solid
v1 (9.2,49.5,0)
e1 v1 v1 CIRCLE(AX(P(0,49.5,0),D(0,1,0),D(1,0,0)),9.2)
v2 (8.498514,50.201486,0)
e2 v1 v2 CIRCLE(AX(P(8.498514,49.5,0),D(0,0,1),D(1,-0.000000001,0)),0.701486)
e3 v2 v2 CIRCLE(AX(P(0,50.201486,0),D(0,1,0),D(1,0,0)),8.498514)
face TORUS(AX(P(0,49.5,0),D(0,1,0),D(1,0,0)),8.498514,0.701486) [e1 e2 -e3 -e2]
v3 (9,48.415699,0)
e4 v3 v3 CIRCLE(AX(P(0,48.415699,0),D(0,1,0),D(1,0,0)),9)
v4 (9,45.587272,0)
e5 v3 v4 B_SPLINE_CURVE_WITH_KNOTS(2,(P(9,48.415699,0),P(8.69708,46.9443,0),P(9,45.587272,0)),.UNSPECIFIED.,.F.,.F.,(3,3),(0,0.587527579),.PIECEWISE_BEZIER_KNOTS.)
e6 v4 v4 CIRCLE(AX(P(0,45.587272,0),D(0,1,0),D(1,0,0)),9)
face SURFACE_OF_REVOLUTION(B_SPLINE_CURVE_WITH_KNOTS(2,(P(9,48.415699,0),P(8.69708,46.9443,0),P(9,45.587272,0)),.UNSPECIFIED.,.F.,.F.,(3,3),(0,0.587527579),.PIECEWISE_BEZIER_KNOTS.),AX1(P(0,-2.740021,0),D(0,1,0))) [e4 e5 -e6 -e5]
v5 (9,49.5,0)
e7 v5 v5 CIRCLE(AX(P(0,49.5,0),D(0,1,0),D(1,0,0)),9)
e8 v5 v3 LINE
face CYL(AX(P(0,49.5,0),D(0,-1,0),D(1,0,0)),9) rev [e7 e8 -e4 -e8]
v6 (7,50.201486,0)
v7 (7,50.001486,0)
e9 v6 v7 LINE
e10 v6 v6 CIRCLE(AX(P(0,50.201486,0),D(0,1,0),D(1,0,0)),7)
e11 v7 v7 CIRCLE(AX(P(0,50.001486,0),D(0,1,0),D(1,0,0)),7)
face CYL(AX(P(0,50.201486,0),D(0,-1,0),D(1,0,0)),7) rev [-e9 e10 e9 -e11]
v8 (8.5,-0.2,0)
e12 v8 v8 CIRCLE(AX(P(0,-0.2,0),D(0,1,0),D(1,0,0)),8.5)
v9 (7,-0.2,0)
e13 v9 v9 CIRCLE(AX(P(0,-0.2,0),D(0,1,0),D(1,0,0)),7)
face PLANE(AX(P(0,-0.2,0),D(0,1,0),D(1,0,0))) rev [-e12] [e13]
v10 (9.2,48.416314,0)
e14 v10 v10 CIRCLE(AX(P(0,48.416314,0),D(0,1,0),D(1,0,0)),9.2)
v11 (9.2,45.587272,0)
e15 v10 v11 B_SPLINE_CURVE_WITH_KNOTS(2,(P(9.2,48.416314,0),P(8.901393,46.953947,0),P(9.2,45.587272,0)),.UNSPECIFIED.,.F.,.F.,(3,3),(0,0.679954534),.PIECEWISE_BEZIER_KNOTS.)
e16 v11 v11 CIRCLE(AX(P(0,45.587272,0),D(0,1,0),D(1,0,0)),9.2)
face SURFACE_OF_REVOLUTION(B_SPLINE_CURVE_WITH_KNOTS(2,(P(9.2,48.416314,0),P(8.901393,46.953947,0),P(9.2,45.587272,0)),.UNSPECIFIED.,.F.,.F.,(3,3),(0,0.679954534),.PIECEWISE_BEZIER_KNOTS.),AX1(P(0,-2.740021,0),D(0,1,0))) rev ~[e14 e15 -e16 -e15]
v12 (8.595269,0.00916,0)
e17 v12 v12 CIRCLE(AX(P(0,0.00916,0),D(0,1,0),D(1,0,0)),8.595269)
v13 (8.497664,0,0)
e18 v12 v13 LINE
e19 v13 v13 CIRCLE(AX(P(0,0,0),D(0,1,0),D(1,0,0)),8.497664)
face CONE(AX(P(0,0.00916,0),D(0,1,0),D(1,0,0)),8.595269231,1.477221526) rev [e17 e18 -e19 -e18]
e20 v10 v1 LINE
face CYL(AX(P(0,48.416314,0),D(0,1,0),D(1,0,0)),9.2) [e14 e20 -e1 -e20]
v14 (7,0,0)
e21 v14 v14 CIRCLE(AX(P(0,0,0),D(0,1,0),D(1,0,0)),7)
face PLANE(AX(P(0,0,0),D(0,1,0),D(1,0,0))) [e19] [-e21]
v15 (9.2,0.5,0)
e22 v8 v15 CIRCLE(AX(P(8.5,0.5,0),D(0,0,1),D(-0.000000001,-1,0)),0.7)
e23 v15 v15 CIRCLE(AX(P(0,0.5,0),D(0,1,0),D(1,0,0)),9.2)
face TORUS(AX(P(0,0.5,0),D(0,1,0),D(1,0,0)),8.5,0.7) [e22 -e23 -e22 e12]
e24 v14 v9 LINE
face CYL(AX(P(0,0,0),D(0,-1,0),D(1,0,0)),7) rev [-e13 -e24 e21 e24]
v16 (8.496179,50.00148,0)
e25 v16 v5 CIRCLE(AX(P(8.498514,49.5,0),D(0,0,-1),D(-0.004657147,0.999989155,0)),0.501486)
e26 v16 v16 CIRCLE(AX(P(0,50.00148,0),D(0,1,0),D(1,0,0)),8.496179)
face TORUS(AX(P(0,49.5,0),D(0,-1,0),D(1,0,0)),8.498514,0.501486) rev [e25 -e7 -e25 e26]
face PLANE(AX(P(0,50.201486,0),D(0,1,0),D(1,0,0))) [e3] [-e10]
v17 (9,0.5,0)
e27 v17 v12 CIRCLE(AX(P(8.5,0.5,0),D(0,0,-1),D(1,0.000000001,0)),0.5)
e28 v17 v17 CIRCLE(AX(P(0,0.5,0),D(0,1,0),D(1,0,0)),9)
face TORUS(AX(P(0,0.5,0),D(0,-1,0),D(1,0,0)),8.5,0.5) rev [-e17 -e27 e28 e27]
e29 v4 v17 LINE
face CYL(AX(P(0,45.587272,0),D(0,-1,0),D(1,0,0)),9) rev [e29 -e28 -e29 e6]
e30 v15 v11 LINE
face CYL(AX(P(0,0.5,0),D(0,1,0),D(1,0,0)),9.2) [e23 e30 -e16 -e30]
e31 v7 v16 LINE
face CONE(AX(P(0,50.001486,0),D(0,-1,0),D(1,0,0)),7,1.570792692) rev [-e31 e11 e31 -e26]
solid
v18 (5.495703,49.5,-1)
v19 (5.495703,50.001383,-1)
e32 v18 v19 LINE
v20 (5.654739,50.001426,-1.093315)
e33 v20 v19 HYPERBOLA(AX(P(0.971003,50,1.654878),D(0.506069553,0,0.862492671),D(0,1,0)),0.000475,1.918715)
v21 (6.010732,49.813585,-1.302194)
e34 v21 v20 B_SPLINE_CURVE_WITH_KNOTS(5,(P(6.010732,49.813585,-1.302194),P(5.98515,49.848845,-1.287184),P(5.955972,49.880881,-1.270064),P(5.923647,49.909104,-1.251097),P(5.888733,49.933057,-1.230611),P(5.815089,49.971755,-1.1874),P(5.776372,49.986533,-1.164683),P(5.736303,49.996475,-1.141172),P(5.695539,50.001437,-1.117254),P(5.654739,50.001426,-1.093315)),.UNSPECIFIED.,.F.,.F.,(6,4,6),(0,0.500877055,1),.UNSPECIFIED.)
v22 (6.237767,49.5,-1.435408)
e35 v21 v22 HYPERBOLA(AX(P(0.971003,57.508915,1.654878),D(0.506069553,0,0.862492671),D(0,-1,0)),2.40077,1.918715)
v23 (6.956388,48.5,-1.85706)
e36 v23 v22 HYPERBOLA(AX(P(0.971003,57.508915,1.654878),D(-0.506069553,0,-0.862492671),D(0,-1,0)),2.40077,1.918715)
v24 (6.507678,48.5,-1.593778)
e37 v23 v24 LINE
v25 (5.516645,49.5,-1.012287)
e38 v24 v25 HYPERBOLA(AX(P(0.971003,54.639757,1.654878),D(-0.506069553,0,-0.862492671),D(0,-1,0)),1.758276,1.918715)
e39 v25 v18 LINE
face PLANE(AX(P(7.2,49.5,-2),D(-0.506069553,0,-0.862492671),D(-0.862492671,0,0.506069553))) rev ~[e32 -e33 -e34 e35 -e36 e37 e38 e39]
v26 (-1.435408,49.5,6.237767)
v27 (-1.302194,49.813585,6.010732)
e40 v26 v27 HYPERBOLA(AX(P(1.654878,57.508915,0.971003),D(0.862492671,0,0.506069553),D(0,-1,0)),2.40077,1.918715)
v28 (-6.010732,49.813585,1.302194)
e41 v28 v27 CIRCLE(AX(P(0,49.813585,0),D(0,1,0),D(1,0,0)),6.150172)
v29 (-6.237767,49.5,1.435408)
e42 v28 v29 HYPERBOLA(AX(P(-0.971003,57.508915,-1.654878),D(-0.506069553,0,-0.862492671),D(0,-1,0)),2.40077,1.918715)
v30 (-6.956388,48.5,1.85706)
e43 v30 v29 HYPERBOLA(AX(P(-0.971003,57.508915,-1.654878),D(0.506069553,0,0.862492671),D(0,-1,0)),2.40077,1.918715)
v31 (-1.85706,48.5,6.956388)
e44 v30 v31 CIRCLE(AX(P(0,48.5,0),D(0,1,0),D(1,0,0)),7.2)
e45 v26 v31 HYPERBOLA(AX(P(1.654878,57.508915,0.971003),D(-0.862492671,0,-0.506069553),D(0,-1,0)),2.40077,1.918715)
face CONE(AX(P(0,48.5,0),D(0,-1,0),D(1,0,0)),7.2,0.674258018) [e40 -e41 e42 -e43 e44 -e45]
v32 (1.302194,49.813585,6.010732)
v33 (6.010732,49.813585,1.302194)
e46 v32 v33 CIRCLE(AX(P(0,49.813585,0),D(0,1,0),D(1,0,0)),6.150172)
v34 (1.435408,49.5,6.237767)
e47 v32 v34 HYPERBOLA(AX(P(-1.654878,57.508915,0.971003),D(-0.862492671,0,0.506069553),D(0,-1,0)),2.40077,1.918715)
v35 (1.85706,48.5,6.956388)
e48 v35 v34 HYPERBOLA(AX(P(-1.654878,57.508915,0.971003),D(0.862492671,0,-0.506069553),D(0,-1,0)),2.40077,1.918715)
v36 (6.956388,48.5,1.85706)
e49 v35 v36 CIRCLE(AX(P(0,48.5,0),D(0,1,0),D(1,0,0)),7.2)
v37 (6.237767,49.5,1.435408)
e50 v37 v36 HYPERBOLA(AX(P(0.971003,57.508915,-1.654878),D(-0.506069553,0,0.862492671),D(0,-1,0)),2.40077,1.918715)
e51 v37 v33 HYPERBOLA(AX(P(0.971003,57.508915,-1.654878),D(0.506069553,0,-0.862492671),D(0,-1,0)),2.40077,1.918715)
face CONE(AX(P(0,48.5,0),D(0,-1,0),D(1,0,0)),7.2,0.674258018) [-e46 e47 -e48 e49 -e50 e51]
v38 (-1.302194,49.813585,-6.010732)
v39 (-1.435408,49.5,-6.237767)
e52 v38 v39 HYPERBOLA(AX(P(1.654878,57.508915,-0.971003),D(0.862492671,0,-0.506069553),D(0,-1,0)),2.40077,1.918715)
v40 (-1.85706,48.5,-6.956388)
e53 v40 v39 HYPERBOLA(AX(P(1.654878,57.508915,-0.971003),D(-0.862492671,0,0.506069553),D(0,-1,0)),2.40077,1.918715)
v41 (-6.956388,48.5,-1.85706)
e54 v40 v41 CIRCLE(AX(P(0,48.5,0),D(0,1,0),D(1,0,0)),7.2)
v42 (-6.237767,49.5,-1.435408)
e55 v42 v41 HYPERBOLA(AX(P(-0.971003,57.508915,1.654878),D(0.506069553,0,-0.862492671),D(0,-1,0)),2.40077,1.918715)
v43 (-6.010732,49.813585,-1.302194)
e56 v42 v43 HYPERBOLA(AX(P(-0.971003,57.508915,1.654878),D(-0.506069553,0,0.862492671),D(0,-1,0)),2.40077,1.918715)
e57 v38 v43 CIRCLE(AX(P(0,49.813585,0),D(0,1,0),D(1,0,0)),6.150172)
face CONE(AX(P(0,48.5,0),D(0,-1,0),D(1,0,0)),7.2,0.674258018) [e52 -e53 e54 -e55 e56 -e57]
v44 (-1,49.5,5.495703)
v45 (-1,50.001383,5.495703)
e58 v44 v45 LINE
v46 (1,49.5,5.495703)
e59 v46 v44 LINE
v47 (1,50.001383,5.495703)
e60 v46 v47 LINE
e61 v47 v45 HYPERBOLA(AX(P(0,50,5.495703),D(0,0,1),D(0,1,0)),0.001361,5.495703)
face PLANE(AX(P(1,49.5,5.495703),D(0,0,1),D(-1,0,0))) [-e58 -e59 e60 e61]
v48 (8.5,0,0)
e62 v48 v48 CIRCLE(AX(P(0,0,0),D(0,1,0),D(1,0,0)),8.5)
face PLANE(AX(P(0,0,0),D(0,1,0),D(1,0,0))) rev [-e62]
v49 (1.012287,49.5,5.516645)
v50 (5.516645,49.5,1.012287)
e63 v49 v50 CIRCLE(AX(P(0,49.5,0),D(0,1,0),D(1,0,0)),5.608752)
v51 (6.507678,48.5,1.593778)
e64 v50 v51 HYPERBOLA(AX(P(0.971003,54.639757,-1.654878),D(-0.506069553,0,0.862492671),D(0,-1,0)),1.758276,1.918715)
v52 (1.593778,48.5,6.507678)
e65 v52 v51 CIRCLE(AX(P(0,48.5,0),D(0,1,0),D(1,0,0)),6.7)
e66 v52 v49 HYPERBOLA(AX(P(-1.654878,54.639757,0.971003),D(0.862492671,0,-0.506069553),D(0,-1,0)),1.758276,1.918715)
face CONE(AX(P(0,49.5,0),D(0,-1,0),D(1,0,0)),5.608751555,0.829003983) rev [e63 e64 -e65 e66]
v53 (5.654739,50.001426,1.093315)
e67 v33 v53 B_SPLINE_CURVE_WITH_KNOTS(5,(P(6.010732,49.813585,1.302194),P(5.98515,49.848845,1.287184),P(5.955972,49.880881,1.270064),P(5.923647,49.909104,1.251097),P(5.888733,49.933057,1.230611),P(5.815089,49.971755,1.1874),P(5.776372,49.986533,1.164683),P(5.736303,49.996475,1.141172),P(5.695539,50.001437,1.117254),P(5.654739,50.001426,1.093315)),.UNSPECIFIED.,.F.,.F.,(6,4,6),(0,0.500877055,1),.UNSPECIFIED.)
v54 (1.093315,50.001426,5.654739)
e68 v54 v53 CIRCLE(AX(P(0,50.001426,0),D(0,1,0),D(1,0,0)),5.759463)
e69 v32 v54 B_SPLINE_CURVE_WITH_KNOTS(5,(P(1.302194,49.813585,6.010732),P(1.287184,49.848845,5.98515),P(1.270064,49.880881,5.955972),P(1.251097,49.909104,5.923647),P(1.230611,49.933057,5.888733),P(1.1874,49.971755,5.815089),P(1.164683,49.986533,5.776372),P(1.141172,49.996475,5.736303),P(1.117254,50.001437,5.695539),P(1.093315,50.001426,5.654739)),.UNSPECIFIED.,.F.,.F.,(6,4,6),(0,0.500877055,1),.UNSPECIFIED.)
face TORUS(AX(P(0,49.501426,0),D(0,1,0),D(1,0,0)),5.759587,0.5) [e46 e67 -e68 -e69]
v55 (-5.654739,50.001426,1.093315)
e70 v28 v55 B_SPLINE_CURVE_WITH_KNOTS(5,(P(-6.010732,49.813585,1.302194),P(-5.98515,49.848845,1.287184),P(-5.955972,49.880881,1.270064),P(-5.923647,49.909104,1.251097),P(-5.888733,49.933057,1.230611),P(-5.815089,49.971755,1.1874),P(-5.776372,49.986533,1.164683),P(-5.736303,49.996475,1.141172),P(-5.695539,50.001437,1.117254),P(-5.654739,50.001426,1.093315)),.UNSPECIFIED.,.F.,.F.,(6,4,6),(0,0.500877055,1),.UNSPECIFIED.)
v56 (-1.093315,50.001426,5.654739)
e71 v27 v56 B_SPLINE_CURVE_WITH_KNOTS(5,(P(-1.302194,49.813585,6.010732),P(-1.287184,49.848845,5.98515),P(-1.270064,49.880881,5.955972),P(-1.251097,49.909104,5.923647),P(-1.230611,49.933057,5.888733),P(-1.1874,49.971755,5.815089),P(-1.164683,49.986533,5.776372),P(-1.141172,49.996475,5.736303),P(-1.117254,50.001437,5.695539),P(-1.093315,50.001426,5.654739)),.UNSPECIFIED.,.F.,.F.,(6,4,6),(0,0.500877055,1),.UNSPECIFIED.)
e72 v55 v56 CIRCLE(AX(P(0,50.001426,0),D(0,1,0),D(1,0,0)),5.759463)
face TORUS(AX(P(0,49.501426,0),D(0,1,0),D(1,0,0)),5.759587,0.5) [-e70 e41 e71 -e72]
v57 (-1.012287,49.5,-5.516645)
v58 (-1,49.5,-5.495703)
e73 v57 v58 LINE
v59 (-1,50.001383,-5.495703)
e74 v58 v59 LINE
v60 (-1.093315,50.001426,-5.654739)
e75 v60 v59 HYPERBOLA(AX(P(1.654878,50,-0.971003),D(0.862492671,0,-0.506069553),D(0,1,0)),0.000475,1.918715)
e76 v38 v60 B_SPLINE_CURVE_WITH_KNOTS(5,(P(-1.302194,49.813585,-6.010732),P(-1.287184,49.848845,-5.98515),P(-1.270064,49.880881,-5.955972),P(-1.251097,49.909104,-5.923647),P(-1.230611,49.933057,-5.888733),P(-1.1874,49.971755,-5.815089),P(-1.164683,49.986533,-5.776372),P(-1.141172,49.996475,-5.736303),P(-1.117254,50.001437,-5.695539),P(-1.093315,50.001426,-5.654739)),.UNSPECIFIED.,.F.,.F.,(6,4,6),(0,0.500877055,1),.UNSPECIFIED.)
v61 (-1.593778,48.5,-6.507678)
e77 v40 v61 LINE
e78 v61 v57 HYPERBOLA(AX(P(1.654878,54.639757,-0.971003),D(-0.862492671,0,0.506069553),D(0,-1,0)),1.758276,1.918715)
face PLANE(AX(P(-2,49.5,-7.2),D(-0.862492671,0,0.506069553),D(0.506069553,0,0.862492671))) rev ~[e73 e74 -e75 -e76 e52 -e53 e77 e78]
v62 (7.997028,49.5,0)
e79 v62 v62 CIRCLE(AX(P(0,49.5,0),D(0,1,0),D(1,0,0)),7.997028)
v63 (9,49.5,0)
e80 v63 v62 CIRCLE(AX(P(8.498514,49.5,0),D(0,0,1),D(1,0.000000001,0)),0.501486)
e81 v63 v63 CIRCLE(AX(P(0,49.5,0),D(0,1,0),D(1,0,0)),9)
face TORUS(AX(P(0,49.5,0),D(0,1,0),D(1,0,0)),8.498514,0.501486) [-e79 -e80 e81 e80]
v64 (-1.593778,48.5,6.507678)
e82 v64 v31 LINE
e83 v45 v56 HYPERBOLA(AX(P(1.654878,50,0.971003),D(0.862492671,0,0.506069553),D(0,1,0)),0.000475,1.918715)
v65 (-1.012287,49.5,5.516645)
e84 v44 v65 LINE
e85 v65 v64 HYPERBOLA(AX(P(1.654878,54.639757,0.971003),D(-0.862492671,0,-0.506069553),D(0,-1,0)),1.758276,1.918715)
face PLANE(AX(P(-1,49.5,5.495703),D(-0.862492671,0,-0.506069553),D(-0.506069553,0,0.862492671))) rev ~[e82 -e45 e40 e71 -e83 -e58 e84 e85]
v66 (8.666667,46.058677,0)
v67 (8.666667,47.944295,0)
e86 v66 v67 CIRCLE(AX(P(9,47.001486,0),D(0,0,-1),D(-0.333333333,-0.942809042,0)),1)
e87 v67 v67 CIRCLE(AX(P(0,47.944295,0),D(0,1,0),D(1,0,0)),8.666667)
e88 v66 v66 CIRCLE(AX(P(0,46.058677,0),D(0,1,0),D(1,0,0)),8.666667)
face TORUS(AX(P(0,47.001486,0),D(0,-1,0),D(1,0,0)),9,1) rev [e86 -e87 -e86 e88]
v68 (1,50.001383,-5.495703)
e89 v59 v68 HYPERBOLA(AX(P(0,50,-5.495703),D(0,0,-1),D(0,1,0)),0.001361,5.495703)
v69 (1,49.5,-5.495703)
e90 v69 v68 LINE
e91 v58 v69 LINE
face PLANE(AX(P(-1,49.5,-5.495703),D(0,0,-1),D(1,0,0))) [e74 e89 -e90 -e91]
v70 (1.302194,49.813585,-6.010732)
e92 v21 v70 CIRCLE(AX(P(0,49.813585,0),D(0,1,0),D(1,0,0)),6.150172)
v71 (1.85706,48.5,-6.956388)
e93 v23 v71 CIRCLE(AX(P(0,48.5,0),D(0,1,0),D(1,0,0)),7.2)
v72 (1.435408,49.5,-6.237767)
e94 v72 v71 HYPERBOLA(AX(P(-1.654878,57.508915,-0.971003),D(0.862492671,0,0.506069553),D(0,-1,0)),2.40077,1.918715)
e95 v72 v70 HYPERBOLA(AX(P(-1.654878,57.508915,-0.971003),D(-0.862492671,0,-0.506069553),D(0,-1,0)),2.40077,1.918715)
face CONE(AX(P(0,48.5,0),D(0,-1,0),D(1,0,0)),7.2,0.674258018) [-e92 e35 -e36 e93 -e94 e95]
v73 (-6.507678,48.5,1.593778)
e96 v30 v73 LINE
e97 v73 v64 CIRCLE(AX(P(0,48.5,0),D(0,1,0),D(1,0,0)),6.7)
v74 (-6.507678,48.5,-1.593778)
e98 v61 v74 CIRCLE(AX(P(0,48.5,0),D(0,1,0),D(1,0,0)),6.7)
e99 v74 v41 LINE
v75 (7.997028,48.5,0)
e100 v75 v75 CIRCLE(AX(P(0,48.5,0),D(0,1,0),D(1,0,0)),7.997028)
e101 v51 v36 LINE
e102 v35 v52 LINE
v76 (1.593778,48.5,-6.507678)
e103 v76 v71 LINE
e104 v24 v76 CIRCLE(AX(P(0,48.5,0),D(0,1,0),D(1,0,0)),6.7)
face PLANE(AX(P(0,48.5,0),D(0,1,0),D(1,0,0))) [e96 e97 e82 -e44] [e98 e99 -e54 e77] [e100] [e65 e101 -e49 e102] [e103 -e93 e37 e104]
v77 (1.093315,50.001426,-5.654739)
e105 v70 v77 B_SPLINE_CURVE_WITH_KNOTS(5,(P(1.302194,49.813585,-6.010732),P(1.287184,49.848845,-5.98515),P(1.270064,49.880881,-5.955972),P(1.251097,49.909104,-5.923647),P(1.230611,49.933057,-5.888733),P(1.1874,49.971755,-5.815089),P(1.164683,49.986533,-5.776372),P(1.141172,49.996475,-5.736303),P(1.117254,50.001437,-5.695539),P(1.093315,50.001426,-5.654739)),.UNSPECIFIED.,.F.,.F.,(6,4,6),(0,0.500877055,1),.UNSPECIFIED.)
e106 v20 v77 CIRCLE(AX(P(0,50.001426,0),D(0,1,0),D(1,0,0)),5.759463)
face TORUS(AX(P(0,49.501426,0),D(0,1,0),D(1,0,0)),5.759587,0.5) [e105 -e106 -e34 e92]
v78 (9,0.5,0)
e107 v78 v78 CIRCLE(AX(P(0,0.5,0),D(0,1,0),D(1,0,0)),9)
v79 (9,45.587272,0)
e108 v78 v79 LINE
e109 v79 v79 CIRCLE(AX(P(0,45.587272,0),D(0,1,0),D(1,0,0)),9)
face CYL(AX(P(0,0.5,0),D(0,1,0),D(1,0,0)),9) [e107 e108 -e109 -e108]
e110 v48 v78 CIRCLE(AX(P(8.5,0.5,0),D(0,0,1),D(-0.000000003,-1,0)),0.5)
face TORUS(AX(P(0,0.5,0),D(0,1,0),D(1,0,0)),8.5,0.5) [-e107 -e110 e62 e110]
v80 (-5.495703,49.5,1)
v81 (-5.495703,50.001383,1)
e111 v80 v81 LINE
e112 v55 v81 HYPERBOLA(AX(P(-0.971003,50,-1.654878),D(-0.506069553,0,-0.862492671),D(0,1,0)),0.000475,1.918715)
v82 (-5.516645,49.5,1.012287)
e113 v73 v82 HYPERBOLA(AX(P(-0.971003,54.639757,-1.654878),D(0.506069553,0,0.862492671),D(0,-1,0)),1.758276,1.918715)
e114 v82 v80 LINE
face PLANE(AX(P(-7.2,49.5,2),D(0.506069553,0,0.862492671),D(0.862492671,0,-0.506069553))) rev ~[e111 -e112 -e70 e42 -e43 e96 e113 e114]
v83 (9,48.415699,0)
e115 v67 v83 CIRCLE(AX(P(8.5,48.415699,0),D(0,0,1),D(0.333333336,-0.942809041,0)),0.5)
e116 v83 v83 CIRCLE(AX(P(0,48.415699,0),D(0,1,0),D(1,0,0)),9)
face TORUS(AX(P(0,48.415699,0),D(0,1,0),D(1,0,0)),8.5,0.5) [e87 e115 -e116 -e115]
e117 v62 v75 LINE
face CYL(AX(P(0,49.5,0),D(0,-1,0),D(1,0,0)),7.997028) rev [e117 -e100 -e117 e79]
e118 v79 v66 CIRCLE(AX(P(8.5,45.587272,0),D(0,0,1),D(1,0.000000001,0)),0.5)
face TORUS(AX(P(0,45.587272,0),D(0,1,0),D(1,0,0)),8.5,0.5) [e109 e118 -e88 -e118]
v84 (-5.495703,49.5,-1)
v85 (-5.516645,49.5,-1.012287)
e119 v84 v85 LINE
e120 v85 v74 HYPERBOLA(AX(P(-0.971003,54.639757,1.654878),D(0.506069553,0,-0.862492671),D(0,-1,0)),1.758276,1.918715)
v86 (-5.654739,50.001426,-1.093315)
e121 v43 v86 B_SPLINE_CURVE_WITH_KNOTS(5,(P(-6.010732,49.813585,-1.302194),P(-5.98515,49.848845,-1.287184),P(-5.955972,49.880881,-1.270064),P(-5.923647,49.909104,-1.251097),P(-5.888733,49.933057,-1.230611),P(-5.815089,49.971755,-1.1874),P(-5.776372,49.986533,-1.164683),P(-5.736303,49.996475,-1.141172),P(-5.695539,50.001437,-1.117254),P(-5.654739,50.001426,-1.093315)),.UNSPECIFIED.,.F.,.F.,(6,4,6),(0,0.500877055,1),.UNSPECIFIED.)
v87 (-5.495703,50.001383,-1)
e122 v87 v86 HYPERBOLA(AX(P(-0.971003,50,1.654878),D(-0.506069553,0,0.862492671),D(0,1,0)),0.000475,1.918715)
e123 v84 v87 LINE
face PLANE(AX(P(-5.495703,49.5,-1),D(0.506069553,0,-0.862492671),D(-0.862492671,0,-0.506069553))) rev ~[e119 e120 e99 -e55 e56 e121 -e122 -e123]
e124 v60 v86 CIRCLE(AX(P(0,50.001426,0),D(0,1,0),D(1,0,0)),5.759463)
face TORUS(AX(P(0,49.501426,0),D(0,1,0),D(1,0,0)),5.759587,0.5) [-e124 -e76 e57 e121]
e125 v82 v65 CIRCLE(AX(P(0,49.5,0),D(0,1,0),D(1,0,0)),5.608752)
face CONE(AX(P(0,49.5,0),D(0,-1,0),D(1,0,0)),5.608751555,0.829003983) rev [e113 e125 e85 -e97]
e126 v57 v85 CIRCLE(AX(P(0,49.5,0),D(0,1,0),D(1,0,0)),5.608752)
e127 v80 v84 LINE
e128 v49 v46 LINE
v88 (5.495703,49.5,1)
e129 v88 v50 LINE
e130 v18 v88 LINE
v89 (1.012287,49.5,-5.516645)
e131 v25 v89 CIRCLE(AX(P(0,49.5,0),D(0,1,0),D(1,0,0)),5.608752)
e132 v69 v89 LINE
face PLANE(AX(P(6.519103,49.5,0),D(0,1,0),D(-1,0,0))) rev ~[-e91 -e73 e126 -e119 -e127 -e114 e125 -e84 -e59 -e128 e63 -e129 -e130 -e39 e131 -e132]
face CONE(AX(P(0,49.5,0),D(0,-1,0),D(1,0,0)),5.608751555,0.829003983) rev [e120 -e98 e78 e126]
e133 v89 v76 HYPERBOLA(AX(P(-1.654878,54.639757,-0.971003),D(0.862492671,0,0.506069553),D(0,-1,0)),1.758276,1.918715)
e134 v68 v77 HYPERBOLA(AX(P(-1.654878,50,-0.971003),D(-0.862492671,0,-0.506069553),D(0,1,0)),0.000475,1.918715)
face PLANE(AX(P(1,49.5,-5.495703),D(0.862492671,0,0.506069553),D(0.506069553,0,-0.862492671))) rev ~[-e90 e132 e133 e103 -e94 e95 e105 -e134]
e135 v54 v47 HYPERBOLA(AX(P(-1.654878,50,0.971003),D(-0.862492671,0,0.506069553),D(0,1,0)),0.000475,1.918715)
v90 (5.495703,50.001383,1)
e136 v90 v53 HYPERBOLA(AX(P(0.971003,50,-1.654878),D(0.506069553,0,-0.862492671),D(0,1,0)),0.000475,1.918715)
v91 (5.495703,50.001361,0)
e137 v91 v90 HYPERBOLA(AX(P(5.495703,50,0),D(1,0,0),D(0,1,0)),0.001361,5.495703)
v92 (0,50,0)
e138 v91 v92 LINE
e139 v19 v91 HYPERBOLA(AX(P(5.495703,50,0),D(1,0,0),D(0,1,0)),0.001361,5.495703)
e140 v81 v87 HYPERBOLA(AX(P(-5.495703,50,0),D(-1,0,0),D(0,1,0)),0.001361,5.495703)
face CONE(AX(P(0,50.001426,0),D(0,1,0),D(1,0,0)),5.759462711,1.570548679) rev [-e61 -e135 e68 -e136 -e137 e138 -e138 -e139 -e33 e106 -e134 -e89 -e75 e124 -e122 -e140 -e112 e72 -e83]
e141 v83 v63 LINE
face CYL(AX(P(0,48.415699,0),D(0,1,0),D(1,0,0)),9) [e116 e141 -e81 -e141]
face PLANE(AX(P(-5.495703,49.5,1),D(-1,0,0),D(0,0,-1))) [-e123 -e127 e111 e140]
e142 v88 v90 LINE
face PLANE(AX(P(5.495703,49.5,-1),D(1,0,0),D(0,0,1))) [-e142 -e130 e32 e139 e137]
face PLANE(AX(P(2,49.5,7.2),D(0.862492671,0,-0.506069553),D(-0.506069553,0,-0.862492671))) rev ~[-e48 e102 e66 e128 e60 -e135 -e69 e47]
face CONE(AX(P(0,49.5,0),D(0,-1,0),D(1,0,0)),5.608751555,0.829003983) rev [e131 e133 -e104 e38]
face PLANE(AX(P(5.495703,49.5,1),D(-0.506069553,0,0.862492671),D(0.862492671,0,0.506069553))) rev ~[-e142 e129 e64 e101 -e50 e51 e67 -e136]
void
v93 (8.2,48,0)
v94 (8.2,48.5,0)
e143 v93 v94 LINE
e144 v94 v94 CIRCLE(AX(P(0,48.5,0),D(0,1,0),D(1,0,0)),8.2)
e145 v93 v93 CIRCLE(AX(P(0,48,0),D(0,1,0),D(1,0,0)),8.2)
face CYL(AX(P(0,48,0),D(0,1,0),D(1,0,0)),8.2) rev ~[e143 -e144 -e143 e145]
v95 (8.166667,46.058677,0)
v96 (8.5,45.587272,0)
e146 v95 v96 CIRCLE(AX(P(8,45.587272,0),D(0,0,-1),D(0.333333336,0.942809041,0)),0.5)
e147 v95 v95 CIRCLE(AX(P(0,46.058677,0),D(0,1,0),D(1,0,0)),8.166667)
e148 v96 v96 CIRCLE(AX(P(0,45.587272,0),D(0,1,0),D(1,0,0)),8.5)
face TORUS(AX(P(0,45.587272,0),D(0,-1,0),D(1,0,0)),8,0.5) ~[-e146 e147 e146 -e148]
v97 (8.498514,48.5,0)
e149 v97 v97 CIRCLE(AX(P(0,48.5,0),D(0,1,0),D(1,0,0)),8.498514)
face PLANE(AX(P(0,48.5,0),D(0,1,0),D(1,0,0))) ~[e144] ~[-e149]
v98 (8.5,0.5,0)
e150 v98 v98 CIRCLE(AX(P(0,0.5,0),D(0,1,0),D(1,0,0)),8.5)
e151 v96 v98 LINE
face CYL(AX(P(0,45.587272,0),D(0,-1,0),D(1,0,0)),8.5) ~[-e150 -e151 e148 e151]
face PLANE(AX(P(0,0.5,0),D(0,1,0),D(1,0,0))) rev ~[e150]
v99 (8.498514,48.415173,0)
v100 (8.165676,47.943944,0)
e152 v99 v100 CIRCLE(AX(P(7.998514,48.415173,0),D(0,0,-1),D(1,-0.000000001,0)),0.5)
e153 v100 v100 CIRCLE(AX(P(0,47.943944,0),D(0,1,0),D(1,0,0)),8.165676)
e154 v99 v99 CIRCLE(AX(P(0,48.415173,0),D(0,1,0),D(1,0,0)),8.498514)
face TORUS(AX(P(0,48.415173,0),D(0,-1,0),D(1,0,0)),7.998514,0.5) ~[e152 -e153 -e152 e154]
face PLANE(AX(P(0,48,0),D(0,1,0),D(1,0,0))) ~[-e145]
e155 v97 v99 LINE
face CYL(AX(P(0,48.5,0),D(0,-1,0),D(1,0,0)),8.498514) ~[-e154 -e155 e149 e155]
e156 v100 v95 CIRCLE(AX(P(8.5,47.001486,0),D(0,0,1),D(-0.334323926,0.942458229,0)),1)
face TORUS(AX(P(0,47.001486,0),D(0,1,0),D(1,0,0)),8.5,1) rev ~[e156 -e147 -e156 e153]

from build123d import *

# Parameters (mm, degrees)
CUT_EXTRUDE_1_DEPTH      = 1
CUT_EXTRUDE_1_DEPTH_BACK = 1.501485988


with BuildPart() as part:
    # Эскиз1 → Повернуть1 (revolve)
    with BuildSketch(Plane.XY):
        with BuildLine():
            Line((0, 0.5), (0, 0))
            Line((0, 0), (8.5, 0))
            ThreePointArc((8.5, 0), (8.853553391, 0.146446609), (9, 0.5))
            Line((9, 0.5), (9, 45.587272326))
            ThreePointArc((9, 45.587272326), (8.90824829, 45.875947461), (8.666666667, 46.058676847))
            ThreePointArc((8.666666667, 46.058676847), (8, 47.001485888), (8.666666667, 47.94429493))
            ThreePointArc((8.666666667, 47.94429493), (8.90824829, 48.127024316), (9, 48.415699451))
            Line((9, 48.415699451), (9, 49.5))
            ThreePointArc((9, 49.5), (8.498514112, 50.001485888), (7.997028223, 49.5))
            Line((7.997028223, 49.5), (7.997028223, 48.5))
            Line((7.997028223, 48.5), (7.2, 48.5))
            Line((7.2, 48.5), (6.150171734, 49.813585272))
            ThreePointArc((6.150171734, 49.813585272), (5.976233912, 49.95205247), (5.759462711, 50.00142632))
            Line((5.759462711, 50.00142632), (0, 50))
            Line((0, 50), (0, 49.5))
            Line((0, 49.5), (5.608751555, 49.5))
            Line((5.608751555, 49.5), (6.7, 48.5))
            Line((6.7, 48.5), (0, 48.5))
            Line((0, 48.5), (0, 48))
            Line((0, 48), (8.2, 48))
            Line((8.2, 48), (8.2, 48.5))
            Line((8.2, 48.5), (8.498514112, 48.5))
            Line((8.498514112, 48.5), (8.498514112, 48.415173231))
            ThreePointArc((8.498514112, 48.415173231), (8.406914027, 48.126712646), (8.165676074, 47.943944117))
            ThreePointArc((8.165676074, 47.943944117), (7.500000138, 47.00096045), (8.166666667, 46.058676847))
            ThreePointArc((8.166666667, 46.058676847), (8.40824829, 45.875947461), (8.5, 45.587272326))
            Line((8.5, 45.587272326), (8.5, 0.5))
            Line((8.5, 0.5), (0, 0.5))
        make_face()
    revolve(axis=Axis((0, 0, 0), (0, 1, 0)))

    # Эскиз2 → Вырез-Вытянуть1 (cut, two sides)
    with BuildSketch(Plane.XZ.offset(-49.5)) as cut_extrude_1_sk:
        Polygon((-1, -5.495703298), (1, -5.495703298), (2, -7.2), (-2, -7.2), align=None)
        Polygon((-5.495703298, 1), (-5.495703298, -1), (-7.2, -2), (-7.2, 2), align=None)
        Polygon((1, 5.495703298), (-1, 5.495703298), (-2, 7.2), (2, 7.2), align=None)
        Polygon((5.495703298, -1), (5.495703298, 1), (7.2, 2), (7.2, -2), align=None)
    extrude(amount=CUT_EXTRUDE_1_DEPTH, mode=Mode.SUBTRACT)
    extrude(cut_extrude_1_sk.sketch, amount=-CUT_EXTRUDE_1_DEPTH_BACK, mode=Mode.SUBTRACT)


with BuildPart() as body_2:
    # Эскиз3 → Повернуть4 (revolve)
    with BuildSketch(Plane.XY):
        with BuildLine():
            Line((8.497664073, 0), (7, 0))
            Line((7, 0), (7, -0.2))
            Line((7, -0.2), (8.5, -0.2))
            ThreePointArc((8.5, -0.2), (8.994974747, 0.005025253), (9.2, 0.5))
            Line((9.2, 0.5), (9.2, 45.587272326))
            add(Edge.make_bspline(
                [(9.2, 48.416313782), (8.901392965, 46.953947415), (9.2, 45.587272326)],
                knots=[0, 0, 0, 0.679954534, 0.679954534, 0.679954534], degree=2))
            Line((9.2, 48.416313782), (9.2, 49.5))
            ThreePointArc((9.2, 49.5), (8.99453954, 49.996025429), (8.498514112, 50.201485888))
            Line((8.498514112, 50.201485888), (7, 50.201485888))
            Line((7, 50.201485888), (7, 50.001485888))
            Line((7, 50.001485888), (8.496178619, 50.00148045))
            ThreePointArc((8.496178619, 50.00148045), (8.852291499, 49.855428835), (9, 49.5))
            Line((9, 49.5), (9, 48.415699451))
            add(Edge.make_bspline(
                [(9, 48.415699451), (8.697080045, 46.944299731), (9, 45.587272326)],
                knots=[0, 0, 0, 0.587527579, 0.587527579, 0.587527579], degree=2))
            Line((9, 45.587272326), (9, 0.5))
            ThreePointArc((9, 0.5), (8.885768464, 0.18190773), (8.595269231, 0.009160135))
            Line((8.595269231, 0.009160135), (8.497664073, 0))
        make_face()
    revolve(axis=Axis((0, -2.74002086, 0), (0, 1, 0)))


solid = Compound([part.part, body_2.part])
